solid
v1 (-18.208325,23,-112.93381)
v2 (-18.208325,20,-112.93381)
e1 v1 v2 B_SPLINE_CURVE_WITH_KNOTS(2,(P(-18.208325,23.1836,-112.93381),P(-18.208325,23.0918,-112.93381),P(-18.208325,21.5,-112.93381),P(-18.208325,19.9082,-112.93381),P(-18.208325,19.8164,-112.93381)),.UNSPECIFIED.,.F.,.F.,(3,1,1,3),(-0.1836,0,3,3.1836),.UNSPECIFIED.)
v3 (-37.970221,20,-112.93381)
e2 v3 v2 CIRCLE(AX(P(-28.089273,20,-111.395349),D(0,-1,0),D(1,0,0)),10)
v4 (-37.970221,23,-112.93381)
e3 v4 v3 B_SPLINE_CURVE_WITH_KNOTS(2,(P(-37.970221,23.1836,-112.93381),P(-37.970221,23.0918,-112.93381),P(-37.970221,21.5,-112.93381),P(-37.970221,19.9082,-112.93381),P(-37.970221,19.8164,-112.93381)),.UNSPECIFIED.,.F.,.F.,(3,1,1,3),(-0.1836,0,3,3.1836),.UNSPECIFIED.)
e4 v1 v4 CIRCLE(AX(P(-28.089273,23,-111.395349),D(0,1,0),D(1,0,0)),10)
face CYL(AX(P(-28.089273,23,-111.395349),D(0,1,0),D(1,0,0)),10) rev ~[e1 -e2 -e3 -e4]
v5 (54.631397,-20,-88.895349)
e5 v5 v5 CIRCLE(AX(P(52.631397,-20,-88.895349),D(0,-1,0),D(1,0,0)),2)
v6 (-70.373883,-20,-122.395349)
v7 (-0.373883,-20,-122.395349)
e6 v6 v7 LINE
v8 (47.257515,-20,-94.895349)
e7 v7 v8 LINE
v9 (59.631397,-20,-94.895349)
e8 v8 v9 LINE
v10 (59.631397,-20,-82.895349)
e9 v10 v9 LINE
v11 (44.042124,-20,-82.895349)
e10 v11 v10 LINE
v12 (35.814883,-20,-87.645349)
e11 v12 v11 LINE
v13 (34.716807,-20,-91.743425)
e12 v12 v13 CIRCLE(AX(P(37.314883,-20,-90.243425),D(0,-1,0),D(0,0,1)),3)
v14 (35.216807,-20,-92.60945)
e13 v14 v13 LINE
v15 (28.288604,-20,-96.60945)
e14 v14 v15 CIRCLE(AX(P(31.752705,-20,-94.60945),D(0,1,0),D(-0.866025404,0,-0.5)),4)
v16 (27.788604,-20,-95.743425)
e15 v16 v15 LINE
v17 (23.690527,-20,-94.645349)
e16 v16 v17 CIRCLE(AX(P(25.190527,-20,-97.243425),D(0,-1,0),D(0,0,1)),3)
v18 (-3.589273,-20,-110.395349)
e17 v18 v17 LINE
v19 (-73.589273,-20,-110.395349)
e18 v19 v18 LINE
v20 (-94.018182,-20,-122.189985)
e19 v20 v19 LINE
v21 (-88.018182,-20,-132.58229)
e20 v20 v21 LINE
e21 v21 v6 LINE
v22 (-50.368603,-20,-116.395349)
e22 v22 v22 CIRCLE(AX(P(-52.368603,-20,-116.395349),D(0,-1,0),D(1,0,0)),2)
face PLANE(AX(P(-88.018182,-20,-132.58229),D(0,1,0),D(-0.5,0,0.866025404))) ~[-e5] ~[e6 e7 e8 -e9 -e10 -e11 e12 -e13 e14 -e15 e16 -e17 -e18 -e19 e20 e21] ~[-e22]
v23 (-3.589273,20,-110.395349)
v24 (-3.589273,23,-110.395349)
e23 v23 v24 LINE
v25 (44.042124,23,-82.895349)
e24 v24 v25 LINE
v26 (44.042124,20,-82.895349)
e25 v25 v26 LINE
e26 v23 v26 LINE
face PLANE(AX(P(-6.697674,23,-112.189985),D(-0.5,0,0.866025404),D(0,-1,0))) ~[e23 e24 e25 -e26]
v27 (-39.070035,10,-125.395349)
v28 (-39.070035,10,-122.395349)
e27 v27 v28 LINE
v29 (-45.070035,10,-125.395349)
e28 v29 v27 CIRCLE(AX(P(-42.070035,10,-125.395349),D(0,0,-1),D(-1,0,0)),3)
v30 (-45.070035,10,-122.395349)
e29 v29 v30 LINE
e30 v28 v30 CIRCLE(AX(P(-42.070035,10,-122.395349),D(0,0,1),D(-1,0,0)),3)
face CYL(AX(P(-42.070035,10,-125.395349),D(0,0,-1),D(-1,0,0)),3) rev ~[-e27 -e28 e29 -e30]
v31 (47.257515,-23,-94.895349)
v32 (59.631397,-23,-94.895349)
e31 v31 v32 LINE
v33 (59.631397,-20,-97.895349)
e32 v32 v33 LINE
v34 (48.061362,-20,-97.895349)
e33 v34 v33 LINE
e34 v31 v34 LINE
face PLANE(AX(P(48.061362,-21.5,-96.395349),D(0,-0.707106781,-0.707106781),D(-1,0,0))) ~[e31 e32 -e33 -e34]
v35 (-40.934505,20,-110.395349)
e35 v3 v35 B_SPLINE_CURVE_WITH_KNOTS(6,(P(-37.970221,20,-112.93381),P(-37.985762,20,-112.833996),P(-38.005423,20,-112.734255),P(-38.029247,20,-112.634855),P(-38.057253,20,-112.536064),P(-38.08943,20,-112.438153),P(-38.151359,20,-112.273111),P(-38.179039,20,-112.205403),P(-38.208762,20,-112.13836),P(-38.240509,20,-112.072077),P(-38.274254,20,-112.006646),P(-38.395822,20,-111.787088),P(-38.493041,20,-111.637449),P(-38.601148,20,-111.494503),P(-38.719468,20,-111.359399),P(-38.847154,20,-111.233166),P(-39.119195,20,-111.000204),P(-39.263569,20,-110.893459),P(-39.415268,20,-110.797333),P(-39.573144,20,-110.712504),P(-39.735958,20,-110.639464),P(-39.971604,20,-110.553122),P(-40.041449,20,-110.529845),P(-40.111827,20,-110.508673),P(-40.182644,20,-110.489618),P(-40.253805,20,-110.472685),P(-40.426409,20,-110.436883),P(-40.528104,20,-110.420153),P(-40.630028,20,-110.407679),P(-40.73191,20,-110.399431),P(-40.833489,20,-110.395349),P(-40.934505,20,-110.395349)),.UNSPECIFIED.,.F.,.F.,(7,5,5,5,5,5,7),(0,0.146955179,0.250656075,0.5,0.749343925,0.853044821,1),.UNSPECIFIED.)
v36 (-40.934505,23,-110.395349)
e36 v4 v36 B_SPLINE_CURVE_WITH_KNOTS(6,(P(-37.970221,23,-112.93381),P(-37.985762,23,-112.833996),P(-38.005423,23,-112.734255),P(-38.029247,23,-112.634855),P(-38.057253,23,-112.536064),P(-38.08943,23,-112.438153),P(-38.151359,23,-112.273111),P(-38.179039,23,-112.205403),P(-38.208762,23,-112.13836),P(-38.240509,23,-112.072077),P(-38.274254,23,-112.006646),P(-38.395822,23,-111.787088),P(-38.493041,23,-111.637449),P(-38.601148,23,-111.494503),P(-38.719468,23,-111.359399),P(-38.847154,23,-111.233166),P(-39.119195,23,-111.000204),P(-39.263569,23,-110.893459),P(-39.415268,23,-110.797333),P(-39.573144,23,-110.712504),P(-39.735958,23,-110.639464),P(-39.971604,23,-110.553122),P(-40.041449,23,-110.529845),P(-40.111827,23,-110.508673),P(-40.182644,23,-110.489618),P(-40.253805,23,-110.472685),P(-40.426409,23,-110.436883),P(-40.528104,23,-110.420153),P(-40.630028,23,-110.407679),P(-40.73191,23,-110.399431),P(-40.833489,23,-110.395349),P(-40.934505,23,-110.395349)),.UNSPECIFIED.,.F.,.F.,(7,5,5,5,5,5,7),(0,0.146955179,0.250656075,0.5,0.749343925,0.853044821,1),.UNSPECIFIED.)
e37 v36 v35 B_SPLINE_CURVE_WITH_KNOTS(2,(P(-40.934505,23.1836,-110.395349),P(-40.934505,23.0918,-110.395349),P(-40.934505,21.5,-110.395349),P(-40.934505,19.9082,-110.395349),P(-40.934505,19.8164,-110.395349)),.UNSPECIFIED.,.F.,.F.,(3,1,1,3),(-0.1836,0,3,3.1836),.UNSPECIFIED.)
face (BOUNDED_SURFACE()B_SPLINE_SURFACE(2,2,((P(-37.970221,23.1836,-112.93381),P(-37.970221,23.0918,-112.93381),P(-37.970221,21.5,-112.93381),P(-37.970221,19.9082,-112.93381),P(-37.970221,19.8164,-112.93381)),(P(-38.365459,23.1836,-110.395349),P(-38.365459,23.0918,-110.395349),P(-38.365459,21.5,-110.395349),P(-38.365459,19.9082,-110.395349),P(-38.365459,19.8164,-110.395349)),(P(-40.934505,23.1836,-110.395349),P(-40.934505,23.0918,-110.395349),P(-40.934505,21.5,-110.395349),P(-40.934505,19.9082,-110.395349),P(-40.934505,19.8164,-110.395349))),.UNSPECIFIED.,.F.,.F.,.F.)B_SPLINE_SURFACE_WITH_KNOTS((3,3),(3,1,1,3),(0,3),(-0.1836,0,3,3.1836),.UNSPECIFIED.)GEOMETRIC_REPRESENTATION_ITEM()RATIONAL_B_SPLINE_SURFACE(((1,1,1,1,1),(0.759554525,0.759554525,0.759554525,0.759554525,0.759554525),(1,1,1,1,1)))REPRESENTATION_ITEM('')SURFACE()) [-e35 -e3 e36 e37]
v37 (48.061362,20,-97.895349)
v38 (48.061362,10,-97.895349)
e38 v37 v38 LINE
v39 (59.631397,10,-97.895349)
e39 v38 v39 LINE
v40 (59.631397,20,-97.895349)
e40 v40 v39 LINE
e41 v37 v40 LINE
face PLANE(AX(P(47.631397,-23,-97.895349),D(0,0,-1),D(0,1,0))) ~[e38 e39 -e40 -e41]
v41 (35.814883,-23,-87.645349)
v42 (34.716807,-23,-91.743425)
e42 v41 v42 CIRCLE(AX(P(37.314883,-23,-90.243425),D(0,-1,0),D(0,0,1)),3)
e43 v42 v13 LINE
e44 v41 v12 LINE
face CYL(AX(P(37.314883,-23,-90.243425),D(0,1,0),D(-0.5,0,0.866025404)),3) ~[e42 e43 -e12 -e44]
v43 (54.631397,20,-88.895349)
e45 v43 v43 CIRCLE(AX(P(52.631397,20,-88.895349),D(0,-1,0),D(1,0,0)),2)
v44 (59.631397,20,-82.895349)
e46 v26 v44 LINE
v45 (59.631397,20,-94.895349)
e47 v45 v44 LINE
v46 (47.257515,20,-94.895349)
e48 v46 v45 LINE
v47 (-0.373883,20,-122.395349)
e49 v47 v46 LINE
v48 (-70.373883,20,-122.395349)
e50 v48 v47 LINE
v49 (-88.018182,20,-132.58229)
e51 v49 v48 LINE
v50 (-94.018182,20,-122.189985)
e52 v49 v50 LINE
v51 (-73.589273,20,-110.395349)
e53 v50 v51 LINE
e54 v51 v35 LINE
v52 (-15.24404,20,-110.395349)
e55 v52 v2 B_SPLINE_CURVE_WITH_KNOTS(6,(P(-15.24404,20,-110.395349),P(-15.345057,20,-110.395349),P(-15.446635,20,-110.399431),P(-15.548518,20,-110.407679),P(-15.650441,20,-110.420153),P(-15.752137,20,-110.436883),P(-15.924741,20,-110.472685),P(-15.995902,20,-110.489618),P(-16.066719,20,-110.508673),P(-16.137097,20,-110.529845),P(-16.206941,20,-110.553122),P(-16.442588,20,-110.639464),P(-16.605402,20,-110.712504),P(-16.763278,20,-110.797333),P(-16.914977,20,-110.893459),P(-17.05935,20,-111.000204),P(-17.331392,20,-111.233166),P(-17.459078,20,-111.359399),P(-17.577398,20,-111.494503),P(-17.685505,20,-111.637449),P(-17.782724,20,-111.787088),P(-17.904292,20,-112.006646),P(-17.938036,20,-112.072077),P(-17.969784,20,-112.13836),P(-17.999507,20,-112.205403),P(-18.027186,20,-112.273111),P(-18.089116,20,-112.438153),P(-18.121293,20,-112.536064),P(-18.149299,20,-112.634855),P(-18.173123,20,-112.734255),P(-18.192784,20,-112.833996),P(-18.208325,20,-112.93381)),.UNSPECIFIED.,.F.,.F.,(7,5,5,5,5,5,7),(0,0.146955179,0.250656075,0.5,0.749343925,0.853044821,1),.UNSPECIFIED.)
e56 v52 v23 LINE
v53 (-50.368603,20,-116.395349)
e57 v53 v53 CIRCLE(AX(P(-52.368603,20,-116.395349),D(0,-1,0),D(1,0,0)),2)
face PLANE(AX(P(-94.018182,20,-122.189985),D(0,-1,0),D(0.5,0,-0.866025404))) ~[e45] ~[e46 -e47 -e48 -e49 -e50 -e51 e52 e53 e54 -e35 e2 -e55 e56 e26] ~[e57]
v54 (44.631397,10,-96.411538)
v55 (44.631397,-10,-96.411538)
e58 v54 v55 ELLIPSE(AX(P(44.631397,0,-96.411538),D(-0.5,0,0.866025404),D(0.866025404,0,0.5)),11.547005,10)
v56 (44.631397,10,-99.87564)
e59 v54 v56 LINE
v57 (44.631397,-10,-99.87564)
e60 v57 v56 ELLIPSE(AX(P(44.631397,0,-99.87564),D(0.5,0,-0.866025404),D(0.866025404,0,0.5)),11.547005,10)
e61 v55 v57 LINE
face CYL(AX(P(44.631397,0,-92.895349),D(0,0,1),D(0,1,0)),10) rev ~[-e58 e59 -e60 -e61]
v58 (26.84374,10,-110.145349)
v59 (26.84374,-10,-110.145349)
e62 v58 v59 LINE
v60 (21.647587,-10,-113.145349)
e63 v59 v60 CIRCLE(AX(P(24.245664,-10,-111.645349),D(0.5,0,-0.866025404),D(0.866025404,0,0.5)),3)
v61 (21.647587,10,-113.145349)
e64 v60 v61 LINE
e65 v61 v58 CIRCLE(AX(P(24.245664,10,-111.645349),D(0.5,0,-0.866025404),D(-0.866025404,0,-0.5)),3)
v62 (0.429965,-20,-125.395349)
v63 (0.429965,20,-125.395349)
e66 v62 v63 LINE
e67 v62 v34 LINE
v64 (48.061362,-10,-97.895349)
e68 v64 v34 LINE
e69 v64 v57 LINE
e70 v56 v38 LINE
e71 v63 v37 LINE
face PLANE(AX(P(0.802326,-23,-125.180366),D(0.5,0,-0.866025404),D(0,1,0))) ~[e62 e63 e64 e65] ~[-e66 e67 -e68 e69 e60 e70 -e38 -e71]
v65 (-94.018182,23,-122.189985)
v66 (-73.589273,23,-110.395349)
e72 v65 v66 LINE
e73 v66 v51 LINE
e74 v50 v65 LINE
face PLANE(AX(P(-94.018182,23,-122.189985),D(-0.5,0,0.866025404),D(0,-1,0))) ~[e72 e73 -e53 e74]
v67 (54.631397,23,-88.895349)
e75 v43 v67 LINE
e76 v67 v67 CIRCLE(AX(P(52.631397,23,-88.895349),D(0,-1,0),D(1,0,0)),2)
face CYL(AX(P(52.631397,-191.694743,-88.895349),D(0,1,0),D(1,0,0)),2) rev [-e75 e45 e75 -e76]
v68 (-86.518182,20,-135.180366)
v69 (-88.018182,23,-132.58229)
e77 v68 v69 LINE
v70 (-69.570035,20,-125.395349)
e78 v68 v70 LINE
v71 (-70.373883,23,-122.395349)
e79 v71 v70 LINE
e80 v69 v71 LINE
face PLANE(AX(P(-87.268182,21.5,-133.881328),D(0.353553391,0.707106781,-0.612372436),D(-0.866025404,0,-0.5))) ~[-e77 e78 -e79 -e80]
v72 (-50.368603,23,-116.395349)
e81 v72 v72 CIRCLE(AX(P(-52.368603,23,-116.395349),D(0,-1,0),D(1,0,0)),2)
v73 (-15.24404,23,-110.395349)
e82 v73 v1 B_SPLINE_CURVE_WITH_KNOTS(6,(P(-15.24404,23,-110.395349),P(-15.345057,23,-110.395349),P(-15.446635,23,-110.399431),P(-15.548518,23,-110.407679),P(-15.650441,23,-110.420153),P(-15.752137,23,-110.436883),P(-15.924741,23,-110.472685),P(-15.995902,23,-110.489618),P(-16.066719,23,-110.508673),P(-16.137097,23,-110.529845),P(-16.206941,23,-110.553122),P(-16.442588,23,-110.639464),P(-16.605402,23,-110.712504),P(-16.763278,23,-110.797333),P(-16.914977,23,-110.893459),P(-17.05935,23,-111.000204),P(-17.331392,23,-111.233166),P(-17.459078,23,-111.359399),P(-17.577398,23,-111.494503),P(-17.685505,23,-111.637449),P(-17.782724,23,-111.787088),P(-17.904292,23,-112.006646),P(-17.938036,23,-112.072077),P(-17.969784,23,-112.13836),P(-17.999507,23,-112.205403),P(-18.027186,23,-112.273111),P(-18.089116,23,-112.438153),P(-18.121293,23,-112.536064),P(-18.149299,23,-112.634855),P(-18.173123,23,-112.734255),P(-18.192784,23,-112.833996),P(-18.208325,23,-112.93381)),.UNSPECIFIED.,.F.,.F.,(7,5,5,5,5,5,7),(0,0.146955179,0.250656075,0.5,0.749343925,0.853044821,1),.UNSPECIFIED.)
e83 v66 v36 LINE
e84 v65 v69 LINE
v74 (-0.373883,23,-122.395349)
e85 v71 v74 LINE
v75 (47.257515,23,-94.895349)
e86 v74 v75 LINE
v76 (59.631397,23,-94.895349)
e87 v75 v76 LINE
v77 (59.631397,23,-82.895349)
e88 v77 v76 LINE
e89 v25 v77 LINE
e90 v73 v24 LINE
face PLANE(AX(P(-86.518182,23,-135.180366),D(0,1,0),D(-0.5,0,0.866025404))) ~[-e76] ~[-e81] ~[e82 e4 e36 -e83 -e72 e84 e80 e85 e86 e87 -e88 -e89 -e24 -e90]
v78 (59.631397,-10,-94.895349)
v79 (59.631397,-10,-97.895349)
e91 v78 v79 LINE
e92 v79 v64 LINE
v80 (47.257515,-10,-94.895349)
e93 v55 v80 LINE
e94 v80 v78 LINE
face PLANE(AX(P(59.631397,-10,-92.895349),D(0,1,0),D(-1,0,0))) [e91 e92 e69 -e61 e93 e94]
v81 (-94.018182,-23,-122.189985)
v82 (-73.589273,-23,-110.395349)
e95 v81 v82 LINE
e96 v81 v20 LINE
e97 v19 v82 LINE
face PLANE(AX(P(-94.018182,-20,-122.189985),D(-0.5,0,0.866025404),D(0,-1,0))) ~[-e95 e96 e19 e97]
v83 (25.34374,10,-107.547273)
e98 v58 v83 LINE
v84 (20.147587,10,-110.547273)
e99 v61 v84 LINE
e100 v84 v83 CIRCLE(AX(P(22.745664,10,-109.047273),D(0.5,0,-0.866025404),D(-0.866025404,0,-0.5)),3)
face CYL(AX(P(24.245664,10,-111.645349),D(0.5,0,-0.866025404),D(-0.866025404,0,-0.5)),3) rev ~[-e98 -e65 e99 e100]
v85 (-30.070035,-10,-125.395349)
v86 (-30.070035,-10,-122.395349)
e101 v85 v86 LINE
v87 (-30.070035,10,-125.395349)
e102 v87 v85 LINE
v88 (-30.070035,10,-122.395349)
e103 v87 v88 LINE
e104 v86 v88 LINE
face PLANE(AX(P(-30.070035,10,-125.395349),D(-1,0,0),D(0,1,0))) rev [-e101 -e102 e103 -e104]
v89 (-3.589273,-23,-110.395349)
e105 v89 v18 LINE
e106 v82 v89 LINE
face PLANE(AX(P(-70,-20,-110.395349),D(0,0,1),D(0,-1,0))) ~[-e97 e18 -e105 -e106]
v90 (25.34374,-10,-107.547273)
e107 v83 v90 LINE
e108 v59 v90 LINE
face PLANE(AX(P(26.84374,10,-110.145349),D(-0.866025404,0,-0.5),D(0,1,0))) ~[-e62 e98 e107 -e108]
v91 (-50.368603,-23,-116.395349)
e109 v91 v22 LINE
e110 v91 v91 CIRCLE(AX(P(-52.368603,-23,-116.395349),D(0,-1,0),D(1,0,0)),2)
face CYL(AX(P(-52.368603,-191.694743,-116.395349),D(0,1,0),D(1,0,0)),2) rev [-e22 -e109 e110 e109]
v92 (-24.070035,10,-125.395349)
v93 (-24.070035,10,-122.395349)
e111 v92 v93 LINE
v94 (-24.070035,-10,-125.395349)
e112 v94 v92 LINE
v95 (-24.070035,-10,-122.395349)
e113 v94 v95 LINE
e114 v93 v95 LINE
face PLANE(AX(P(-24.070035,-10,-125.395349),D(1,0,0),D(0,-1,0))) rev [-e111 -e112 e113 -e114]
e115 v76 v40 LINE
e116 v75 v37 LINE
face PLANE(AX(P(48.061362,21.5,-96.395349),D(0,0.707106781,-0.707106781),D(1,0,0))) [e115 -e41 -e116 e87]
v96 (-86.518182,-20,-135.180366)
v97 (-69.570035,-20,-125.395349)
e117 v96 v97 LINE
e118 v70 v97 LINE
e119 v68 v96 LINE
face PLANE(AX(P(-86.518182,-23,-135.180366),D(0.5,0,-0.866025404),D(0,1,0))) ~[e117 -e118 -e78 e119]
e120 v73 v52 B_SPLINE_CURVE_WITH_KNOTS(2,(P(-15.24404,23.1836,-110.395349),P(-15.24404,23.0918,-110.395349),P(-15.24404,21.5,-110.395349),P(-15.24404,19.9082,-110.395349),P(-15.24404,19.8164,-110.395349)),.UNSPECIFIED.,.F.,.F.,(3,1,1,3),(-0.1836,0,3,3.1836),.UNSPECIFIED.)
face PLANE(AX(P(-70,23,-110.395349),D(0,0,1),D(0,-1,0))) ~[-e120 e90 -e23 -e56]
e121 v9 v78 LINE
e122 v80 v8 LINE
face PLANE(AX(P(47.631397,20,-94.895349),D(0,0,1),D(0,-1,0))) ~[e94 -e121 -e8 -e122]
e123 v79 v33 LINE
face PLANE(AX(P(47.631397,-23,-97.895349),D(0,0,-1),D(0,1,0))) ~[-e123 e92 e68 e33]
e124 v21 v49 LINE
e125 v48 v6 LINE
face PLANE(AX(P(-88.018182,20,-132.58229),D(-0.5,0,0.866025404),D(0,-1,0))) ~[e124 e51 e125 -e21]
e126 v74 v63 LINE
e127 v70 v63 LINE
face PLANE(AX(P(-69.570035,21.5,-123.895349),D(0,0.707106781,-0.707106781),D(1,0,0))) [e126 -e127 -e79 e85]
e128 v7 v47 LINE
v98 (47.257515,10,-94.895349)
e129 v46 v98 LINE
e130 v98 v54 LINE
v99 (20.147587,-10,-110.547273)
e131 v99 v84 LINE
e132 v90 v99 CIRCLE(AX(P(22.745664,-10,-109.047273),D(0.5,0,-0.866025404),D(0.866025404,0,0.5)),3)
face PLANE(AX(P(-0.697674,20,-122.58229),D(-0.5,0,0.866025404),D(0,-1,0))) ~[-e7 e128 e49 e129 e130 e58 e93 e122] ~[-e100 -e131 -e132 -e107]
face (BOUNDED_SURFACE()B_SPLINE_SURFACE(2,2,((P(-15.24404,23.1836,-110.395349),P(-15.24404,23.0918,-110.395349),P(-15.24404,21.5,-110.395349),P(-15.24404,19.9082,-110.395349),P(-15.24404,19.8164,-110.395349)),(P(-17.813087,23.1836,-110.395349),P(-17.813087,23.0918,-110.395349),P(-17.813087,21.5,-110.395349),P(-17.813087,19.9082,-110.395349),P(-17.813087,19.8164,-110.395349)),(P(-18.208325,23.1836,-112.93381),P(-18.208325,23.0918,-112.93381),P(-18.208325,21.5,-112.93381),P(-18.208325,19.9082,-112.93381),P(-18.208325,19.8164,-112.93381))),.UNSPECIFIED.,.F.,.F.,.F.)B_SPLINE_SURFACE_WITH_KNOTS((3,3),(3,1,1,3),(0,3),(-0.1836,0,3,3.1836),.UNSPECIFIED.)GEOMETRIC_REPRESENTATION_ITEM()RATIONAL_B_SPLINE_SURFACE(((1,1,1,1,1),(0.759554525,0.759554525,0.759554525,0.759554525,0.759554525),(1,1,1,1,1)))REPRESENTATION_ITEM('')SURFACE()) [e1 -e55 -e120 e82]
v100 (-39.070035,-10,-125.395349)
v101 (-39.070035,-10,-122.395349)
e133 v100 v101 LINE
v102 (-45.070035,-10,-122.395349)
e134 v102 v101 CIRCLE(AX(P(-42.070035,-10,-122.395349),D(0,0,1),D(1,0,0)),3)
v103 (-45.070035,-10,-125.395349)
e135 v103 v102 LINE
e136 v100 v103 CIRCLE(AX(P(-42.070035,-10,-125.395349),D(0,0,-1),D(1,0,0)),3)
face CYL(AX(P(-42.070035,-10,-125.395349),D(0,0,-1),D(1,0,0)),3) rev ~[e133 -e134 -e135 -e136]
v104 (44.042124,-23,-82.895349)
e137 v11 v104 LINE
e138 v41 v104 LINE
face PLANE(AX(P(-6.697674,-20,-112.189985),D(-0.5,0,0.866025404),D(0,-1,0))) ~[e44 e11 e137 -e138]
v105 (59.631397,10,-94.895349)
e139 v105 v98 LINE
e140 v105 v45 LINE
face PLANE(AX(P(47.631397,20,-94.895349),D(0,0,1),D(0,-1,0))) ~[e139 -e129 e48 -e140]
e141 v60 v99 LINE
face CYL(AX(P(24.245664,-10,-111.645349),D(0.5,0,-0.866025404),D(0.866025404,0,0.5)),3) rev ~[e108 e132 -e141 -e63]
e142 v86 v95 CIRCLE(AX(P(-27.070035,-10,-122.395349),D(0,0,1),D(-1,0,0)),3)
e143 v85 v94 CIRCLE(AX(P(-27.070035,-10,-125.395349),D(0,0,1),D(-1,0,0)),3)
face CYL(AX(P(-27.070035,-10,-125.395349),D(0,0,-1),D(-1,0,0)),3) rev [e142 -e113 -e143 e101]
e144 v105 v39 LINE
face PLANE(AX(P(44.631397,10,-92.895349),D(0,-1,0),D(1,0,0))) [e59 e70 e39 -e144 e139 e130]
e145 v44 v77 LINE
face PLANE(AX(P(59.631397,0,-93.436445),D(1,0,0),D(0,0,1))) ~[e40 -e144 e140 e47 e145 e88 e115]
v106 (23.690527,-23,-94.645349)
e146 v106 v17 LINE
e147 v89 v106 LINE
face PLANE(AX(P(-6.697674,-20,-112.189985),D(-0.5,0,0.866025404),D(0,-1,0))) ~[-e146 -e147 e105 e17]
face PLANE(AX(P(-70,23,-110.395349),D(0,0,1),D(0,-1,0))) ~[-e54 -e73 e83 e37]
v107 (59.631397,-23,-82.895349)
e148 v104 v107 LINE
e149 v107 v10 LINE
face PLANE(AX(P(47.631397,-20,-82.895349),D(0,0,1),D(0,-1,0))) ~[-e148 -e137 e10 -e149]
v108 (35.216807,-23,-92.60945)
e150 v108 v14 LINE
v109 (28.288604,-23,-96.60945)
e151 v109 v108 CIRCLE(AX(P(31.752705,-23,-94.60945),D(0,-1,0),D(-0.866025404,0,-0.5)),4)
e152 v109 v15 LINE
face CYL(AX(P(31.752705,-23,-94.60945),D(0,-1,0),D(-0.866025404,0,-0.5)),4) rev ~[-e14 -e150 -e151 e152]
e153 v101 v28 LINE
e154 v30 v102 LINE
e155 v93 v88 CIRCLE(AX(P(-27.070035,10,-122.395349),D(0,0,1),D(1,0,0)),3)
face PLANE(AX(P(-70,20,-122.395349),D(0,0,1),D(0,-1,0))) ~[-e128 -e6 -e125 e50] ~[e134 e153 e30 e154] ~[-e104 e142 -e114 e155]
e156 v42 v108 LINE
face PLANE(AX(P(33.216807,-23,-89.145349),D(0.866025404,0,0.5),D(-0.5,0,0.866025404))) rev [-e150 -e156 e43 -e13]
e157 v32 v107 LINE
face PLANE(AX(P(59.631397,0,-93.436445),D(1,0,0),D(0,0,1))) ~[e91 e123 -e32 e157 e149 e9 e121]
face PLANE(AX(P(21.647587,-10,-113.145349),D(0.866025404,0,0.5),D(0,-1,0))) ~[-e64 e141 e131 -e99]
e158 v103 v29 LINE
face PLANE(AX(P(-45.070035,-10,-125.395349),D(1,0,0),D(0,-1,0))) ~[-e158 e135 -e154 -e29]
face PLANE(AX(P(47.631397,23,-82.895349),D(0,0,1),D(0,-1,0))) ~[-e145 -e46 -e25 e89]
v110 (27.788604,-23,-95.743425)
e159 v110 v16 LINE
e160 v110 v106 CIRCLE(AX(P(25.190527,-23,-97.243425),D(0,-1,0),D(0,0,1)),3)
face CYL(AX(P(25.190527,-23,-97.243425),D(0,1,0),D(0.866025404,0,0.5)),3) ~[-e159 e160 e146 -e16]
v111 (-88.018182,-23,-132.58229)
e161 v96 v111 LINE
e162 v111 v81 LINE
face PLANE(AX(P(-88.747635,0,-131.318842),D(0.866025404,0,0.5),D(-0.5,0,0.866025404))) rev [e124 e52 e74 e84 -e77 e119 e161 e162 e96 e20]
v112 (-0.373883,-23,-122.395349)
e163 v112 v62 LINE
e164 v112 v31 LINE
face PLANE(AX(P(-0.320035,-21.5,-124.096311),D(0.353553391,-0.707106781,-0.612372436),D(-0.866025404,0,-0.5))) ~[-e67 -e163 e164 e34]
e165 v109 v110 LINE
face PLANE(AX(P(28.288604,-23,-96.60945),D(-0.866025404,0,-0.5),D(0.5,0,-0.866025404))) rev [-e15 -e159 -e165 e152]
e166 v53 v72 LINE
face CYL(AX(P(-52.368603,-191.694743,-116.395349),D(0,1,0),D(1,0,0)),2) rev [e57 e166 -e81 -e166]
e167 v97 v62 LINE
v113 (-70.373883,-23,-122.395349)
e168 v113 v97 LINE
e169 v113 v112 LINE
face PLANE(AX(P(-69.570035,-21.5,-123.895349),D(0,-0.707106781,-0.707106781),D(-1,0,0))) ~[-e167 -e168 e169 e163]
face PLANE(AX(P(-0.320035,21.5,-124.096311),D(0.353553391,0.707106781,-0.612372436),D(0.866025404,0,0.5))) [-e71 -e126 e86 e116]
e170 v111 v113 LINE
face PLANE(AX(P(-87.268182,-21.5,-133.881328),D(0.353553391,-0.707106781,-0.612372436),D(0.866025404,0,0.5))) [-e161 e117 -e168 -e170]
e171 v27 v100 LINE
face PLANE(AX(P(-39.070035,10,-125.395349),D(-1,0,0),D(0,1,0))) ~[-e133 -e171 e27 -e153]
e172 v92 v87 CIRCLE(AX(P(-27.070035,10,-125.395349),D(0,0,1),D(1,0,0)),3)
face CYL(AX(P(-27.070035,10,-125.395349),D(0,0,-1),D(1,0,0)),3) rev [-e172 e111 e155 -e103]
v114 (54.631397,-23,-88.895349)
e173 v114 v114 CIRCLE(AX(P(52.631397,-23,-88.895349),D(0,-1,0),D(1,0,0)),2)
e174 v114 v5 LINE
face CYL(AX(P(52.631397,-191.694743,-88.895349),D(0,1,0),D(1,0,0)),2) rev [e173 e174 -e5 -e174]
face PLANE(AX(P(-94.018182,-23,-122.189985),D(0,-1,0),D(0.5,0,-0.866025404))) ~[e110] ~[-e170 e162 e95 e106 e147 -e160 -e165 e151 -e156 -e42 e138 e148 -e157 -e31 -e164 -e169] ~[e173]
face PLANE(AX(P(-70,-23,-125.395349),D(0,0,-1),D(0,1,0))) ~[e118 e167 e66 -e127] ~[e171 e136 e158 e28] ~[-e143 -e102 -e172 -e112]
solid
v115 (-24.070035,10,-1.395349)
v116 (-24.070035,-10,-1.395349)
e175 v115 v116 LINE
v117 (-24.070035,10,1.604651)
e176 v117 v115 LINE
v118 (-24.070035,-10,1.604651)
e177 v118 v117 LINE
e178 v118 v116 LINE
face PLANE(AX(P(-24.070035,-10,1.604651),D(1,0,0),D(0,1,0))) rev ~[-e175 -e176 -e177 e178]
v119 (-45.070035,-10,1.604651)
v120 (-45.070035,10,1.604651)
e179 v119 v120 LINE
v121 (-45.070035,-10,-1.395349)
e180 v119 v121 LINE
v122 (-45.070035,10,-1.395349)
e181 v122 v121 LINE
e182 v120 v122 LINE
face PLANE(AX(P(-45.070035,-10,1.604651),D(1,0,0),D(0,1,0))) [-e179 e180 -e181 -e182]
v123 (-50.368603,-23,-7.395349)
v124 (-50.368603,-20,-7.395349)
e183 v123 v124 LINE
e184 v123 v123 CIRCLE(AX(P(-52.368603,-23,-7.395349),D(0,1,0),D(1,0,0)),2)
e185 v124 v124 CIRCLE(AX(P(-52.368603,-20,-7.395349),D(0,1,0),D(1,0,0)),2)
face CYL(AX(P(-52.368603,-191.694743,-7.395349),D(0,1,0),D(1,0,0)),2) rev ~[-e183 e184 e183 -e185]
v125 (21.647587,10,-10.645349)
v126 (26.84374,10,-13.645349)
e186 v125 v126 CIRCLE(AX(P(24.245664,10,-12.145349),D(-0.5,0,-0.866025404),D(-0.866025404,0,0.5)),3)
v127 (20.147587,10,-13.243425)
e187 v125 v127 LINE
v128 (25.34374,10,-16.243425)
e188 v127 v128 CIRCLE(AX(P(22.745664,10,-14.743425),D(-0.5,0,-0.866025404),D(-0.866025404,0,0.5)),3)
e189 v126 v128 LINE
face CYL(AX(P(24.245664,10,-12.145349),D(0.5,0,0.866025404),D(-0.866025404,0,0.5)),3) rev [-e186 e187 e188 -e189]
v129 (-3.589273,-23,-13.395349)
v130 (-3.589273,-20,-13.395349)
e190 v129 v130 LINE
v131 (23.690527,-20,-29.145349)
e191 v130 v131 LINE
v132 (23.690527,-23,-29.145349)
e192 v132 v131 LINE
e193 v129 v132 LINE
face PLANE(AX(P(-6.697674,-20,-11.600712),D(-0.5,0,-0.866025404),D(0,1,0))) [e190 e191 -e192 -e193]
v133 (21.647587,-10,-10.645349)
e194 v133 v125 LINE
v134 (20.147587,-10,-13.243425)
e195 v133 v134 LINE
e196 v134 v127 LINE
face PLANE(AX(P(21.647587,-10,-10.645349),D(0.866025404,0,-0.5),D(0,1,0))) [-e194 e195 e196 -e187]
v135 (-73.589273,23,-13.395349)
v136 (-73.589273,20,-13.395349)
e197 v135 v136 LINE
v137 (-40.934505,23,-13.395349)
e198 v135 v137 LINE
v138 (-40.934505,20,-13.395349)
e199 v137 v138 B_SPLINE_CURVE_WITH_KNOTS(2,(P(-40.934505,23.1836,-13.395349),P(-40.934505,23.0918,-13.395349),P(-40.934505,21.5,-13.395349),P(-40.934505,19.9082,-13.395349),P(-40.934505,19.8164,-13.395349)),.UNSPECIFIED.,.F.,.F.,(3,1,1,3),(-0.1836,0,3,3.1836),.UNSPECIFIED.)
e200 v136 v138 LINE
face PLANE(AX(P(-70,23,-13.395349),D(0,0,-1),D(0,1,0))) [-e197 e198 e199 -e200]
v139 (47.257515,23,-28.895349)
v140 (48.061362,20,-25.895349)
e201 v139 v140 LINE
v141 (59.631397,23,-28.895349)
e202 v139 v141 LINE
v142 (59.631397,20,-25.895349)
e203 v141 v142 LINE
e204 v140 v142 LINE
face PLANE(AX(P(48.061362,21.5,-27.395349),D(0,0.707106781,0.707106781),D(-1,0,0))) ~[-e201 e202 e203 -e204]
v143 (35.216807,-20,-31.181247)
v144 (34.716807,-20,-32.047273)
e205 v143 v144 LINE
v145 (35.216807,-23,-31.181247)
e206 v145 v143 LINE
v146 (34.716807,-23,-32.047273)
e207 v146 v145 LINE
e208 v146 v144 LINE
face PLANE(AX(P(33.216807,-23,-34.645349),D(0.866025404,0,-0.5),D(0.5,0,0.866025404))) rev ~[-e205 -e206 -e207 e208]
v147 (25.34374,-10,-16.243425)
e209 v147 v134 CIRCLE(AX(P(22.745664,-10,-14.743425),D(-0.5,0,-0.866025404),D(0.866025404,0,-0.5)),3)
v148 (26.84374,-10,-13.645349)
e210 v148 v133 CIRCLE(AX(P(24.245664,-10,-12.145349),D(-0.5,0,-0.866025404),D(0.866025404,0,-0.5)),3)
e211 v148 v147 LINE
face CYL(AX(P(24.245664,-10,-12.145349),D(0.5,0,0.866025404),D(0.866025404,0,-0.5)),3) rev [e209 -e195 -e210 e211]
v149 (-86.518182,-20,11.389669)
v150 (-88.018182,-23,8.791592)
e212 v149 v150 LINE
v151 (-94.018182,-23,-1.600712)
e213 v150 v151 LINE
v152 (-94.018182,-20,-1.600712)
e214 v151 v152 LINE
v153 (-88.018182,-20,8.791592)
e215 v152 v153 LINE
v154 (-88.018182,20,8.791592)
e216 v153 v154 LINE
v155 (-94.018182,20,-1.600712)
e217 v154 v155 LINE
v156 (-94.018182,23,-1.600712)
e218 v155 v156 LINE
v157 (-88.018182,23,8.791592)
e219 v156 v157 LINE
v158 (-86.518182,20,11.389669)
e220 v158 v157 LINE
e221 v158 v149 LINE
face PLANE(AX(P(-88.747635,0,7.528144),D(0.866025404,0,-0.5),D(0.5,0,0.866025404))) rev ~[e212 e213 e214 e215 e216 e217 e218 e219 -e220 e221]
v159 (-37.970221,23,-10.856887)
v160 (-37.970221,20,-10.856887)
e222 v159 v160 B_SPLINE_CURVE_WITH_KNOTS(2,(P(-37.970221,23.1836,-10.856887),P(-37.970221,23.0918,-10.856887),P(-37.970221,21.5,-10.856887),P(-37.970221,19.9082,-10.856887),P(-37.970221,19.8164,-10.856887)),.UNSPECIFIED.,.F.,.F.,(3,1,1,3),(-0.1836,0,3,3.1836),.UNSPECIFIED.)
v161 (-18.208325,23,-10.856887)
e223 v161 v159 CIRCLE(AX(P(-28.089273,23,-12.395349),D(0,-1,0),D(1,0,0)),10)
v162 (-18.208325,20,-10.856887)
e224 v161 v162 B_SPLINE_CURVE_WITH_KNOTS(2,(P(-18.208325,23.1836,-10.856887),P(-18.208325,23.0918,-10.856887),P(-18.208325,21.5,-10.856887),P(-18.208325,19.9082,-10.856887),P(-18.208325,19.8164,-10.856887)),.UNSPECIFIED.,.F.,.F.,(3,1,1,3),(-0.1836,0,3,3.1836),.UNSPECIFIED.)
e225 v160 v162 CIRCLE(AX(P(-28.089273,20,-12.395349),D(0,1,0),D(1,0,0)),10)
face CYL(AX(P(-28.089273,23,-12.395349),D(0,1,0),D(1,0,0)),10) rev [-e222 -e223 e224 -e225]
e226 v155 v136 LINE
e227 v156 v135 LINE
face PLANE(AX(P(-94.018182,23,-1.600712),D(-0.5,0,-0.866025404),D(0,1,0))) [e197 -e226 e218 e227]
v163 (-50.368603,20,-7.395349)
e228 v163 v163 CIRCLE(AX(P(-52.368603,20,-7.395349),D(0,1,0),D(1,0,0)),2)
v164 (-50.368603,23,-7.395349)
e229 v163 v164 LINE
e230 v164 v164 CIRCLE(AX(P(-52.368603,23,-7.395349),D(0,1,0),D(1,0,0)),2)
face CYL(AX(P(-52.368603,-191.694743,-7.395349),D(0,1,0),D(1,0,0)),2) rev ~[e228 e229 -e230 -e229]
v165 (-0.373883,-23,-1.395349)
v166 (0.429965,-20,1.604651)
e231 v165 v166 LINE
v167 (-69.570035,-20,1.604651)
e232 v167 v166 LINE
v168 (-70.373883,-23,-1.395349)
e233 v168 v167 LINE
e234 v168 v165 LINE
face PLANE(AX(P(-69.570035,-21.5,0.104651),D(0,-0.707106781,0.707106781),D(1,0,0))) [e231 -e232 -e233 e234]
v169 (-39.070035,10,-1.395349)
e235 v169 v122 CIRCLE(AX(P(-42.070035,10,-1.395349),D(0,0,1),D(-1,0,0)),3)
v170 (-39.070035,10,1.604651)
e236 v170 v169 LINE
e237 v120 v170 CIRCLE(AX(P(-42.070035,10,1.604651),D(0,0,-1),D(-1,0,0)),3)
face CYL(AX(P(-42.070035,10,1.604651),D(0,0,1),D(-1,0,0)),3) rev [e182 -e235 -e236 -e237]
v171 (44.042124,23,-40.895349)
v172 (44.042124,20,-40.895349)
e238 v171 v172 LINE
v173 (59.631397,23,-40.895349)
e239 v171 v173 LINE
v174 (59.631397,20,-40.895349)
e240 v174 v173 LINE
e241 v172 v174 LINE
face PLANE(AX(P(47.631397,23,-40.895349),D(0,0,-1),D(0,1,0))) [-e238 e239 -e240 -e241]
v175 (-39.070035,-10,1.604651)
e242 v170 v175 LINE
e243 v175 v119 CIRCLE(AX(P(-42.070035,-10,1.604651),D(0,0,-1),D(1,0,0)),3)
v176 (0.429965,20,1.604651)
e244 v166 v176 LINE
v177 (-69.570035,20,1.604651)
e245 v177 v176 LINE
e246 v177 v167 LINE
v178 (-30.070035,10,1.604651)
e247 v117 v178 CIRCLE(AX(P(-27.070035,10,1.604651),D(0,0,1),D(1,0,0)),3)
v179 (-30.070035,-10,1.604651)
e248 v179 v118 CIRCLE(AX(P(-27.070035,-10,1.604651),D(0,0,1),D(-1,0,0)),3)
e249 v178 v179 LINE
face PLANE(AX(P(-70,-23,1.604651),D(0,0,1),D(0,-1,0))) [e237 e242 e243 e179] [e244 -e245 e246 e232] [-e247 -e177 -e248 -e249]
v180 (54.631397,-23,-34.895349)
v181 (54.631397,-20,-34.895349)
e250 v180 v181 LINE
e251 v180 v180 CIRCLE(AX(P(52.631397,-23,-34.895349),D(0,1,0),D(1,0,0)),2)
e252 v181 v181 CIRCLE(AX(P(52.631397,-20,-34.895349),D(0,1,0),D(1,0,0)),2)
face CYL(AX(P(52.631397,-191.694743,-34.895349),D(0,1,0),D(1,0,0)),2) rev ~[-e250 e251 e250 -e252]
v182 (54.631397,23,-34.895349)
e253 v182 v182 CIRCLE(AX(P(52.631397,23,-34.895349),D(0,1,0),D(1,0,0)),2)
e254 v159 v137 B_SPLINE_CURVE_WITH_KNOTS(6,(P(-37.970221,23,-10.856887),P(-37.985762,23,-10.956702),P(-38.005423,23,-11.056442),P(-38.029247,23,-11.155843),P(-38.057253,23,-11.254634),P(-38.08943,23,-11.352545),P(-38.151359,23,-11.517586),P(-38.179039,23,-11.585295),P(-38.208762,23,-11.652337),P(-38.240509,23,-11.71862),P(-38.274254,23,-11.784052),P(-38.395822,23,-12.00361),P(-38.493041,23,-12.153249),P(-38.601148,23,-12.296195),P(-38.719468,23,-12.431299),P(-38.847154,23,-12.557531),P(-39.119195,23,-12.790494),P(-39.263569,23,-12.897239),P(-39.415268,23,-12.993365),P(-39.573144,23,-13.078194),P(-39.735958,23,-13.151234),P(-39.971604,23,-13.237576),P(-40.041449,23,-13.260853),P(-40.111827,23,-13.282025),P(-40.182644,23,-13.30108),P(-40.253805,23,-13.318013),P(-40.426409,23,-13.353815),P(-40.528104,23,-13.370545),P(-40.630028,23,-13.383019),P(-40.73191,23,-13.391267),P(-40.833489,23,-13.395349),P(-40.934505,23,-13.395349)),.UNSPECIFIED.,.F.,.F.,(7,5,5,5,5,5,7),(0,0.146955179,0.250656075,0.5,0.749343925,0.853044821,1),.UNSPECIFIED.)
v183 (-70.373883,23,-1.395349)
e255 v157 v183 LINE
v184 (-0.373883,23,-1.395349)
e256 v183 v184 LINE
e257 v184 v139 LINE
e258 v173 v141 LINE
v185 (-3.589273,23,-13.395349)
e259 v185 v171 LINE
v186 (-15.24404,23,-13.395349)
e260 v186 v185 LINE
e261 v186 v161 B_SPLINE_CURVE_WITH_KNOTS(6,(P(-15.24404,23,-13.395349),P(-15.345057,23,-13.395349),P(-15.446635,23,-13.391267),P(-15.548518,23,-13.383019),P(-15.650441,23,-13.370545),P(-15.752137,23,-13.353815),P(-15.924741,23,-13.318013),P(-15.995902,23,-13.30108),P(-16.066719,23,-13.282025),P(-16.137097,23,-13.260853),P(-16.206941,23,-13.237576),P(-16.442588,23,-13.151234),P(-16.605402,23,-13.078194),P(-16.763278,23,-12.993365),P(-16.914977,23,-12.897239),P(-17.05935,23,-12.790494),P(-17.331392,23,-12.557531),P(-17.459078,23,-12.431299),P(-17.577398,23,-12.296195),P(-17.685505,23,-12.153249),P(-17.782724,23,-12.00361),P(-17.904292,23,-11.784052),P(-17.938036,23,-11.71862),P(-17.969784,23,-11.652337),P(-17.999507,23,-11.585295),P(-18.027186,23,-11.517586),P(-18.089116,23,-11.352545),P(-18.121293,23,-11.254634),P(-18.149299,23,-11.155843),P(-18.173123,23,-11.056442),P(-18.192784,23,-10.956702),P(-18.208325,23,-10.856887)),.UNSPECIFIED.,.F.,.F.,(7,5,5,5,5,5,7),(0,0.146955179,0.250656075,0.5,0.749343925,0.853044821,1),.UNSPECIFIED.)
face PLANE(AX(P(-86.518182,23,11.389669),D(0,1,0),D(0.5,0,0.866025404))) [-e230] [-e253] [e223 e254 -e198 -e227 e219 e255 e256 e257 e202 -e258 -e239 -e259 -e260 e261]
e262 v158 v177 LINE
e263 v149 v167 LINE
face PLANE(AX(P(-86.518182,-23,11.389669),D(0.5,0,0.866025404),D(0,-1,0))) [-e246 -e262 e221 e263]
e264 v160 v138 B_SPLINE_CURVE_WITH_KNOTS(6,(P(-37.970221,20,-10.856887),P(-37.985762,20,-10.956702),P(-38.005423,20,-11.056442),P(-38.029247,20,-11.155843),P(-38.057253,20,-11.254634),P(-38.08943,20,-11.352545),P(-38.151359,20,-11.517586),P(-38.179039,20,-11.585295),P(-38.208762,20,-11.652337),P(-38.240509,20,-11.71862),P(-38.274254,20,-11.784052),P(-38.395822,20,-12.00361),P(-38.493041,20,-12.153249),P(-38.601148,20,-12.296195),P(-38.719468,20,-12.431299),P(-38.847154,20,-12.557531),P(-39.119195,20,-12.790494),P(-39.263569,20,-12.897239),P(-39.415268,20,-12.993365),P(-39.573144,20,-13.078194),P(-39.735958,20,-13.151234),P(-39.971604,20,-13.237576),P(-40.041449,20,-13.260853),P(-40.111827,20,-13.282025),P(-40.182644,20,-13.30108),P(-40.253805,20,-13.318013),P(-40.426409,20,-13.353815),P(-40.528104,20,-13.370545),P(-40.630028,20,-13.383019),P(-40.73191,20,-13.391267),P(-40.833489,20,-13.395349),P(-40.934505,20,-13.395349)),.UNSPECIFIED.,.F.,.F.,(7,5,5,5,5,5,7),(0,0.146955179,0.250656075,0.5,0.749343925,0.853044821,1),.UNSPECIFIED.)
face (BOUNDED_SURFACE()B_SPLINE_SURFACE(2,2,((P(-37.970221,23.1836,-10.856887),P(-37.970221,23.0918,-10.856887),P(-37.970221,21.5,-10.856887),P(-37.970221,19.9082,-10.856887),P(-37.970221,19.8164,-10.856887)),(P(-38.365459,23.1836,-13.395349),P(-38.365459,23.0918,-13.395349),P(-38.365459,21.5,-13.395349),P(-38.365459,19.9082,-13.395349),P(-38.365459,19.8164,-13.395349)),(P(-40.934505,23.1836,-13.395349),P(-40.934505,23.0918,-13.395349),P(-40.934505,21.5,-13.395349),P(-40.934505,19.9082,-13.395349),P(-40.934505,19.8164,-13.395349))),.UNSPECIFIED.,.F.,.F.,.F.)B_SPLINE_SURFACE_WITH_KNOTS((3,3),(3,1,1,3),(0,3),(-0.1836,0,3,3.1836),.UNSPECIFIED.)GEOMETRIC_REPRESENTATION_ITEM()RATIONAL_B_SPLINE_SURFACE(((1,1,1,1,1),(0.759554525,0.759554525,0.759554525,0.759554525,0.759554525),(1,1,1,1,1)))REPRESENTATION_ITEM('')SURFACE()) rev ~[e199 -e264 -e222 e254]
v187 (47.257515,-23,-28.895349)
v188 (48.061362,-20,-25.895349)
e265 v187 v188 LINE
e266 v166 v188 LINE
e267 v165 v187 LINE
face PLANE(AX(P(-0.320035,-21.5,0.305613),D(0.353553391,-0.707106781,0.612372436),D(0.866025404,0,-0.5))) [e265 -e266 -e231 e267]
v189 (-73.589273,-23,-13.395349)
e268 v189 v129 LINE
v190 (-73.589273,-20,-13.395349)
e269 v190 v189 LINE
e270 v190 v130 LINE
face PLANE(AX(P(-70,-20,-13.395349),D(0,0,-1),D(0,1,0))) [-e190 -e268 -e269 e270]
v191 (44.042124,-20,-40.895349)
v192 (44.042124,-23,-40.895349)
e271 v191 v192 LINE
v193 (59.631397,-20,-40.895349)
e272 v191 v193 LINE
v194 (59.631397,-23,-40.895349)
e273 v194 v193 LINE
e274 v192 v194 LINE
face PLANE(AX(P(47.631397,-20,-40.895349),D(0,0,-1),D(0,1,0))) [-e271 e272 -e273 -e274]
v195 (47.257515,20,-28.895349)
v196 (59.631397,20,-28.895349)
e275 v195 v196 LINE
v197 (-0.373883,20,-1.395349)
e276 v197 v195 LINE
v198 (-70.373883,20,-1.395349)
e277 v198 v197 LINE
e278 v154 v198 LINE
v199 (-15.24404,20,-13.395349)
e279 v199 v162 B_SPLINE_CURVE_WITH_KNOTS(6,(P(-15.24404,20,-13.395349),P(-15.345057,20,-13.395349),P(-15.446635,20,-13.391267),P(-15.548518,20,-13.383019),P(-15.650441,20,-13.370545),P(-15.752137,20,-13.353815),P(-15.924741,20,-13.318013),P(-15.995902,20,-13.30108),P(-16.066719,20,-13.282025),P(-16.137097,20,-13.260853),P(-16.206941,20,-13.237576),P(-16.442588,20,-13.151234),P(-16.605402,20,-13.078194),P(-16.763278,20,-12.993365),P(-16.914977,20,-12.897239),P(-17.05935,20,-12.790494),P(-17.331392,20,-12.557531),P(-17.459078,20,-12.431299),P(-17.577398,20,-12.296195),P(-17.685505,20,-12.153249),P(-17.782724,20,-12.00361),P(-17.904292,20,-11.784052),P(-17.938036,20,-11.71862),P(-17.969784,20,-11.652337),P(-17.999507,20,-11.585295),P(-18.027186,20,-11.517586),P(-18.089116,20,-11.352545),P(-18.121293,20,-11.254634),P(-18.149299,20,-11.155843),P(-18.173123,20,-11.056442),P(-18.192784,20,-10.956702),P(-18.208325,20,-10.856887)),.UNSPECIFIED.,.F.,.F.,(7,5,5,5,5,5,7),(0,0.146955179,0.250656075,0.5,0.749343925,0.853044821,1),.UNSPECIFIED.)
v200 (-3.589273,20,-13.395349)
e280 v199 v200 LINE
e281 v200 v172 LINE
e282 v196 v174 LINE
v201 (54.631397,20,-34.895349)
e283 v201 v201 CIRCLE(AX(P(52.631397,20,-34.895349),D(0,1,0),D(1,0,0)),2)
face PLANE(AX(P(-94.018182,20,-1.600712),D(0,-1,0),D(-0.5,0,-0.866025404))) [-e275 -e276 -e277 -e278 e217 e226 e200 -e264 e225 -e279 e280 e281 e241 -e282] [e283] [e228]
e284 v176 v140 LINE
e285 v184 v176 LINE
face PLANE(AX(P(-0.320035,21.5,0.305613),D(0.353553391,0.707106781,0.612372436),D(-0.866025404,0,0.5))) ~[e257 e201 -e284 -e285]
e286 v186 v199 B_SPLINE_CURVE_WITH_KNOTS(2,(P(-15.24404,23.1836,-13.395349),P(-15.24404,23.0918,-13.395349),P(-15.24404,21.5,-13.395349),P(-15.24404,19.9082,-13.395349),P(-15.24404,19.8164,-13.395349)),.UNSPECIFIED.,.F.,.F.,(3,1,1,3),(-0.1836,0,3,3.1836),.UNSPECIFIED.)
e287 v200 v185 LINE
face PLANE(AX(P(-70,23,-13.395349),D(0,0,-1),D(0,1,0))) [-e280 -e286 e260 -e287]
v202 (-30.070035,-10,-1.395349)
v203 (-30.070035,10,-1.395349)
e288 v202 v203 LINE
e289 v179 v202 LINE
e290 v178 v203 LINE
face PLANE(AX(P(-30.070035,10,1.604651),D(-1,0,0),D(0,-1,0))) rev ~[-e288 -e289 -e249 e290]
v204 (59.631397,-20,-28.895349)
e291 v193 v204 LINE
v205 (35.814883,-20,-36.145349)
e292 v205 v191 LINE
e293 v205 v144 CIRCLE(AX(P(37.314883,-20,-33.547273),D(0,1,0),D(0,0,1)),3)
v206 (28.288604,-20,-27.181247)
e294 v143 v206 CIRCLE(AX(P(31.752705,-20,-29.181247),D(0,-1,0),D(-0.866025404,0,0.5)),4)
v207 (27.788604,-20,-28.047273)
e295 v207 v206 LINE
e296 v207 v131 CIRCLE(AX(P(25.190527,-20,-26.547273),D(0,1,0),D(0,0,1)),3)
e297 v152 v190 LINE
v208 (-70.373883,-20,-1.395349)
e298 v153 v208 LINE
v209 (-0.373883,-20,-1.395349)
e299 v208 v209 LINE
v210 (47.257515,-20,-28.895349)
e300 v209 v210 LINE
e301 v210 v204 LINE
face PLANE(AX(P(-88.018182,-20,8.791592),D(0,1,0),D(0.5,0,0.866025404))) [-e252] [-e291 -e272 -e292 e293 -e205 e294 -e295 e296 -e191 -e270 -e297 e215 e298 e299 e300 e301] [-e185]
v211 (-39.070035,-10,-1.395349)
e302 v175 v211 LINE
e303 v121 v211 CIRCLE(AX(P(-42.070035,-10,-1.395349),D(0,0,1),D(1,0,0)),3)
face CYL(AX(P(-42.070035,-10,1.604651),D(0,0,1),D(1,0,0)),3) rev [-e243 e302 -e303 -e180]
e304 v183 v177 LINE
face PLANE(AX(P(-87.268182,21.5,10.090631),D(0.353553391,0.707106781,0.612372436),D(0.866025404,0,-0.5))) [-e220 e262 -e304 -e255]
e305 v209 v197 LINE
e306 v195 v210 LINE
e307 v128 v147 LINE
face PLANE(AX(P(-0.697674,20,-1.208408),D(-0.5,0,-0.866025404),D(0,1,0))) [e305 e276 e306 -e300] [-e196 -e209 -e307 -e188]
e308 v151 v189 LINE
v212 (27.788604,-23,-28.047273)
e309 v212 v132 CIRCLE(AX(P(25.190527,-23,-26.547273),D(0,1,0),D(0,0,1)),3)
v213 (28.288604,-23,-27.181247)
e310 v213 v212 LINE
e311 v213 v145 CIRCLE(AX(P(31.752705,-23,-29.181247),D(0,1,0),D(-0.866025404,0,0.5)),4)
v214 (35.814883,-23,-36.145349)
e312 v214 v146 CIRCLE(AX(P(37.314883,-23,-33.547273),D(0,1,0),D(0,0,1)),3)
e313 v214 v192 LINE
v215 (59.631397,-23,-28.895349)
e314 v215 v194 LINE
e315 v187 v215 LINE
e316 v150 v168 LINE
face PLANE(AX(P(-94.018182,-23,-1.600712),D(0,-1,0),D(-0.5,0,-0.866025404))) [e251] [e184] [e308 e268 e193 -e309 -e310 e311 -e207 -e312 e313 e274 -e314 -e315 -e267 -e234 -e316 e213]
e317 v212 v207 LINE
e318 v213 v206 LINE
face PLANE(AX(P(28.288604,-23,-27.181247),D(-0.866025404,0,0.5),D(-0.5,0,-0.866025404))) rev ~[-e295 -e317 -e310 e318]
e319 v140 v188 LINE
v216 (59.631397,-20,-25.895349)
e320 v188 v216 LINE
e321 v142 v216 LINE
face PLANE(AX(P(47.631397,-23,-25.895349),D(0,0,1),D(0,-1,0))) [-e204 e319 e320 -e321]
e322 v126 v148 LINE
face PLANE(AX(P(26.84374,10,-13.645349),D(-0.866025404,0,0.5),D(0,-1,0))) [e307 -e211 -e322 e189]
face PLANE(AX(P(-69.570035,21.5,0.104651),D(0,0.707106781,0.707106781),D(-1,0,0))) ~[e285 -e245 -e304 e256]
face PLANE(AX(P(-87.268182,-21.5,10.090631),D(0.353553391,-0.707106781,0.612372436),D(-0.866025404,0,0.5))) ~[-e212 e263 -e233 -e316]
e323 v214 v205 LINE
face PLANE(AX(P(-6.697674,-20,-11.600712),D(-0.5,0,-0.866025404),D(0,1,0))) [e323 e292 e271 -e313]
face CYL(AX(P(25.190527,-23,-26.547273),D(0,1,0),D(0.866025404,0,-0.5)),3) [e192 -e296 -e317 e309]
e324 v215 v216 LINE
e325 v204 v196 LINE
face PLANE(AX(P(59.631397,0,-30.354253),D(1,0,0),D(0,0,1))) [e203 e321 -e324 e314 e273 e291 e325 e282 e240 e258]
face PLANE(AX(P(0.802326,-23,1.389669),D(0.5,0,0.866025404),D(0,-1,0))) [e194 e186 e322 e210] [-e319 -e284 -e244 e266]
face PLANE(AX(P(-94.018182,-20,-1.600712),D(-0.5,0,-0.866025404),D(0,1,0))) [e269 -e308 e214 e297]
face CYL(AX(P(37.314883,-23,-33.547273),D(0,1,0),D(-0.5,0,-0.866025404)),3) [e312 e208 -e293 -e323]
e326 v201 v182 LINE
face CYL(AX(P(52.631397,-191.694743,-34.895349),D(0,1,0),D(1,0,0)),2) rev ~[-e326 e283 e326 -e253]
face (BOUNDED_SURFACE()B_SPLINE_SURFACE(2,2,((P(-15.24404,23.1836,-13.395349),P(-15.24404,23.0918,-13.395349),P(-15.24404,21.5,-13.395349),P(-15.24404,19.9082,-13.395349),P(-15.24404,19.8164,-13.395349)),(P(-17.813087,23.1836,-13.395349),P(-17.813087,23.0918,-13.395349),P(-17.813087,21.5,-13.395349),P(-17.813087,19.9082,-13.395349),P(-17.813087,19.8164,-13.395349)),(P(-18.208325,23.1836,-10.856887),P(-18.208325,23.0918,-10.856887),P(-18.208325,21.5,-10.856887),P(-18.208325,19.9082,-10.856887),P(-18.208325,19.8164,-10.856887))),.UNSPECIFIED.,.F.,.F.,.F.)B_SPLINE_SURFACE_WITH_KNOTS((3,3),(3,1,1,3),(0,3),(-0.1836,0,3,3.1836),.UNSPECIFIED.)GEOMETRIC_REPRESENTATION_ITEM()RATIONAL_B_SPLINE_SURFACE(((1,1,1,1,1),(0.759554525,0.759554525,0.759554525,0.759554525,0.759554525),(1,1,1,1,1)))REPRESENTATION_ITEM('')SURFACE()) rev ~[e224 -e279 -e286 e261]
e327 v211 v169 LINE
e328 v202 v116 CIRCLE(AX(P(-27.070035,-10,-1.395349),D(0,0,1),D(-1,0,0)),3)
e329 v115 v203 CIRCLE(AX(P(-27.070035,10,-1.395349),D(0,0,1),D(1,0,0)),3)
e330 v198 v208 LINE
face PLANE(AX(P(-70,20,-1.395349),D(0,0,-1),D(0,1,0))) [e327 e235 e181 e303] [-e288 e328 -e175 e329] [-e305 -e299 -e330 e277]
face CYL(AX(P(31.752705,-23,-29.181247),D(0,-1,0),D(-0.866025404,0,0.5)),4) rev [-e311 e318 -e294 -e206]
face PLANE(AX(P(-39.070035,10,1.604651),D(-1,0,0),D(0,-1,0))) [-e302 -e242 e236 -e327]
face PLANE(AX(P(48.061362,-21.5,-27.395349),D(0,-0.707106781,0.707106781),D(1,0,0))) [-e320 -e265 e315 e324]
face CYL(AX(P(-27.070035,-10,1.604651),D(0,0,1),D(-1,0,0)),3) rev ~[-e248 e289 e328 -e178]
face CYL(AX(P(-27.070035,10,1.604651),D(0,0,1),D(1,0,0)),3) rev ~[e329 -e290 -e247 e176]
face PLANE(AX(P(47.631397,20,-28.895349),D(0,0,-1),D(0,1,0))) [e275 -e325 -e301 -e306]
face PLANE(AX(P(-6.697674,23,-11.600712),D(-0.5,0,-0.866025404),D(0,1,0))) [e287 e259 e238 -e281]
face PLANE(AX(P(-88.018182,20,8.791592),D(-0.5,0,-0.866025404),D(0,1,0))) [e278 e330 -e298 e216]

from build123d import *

# Parameters (mm, degrees)
CUT_EXTRUDE3_DEPTH      = 5
CUT_EXTRUDE4_DEPTH      = 10
CHAMFER1_SIZE           = 3
CUT_EXTRUDE6_DEPTH      = 3
F_4_0MM_DOWEL_HOLE2_D   = 4
CUT_EXTRUDE9_DEPTH      = 10
CUT_EXTRUDE7_DEPTH      = 146.985046122
CUT_EXTRUDE7_DEPTH_BACK = 5
FILLET1_R               = 3
FILLET2_R               = 3


with BuildPart() as part:
    # Sweep8: sweep along a path in Sketch6
    with BuildLine(Plane(origin=(0, 0, 0), x_dir=(1, 0, 0), z_dir=(0, 1, 0))) as sweep8_path:
        Line((-87.320508076, -10), (-70, 0))
        Line((-70, 0), (0, 0))
        Line((0, 0), (47.631397208, 27.5))
        Line((47.631397208, 27.5), (59.631397208, 27.5))
    # Sketch7 → Sweep8 (sweep)
    with BuildSketch(Plane(origin=(0, 0, 0), x_dir=(0, 0, -1), z_dir=(1, 0, 0))):
        Polygon((-1.604651163, -23), (-1.604651163, 23), (13.395348837, 23), (13.395348837, 20), (1.395348837, 20), (1.395348837, -20), (13.395348837, -20), (13.395348837, -23), align=None)
    sweep(path=sweep8_path.line, transition=Transition.RIGHT)

    # Sketch10 → Cut-Extrude3 (cut)
    with BuildSketch(Plane(origin=(0, 23, 0), x_dir=(1, 0, 0), z_dir=(0, 1, 0))):
        with BuildLine():
            Line((-38.089272903, 13.395348837), (-18.089272903, 13.395348837))
            Line((-18.089272903, 13.395348837), (-18.089272903, 12.395348837))
            ThreePointArc((-18.089272903, 12.395348837), (-28.089272903, 2.395348837), (-38.089272903, 12.395348837))
            Line((-38.089272903, 12.395348837), (-38.089272903, 13.395348837))
        make_face()
    extrude(amount=-CUT_EXTRUDE3_DEPTH, mode=Mode.SUBTRACT)

    # Sketch11 → Cut-Extrude4 (cut)
    with BuildSketch(Plane.XY.offset(1.604651163)):
        with BuildLine():
            Line((-45.070035017, -10), (-45.070035017, 10))
            ThreePointArc((-45.070035017, 10), (-42.070035017, 13), (-39.070035017, 10))
            Line((-39.070035017, 10), (-39.070035017, -10))
            ThreePointArc((-39.070035017, -10), (-42.070035017, -13), (-45.070035017, -10))
        make_face()
        with BuildLine():
            Line((-24.070035017, -10), (-24.070035017, 10))
            ThreePointArc((-24.070035017, 10), (-27.070035017, 13), (-30.070035017, 10))
            Line((-30.070035017, 10), (-30.070035017, -10))
            ThreePointArc((-30.070035017, -10), (-27.070035017, -13), (-24.070035017, -10))
        make_face()
    extrude(amount=-CUT_EXTRUDE4_DEPTH, mode=Mode.SUBTRACT)

    # Chamfer1
    chamfer1_edges = [part.edges().sort_by_distance(p)[0] for p in [
        (-78.044108756, -23, 6.497159917),
        (-34.570035017, -23, 1.604651163),
        (24.245663587, -23, -12.145348837),
        (-78.044108756, 23, 6.497159917),
        (-34.570035017, 23, 1.604651163),
        (24.245663587, 23, -12.145348837),
        (53.8463797, -23, -25.895348837),
        (53.8463797, 23, -25.895348837),
    ]]
    chamfer(chamfer1_edges, length=CHAMFER1_SIZE)

    # Sketch14 → Cut-Extrude6 (cut)
    with BuildSketch(Plane(origin=(0.802325581, 0, 1.389668671), x_dir=(0.8660254037844379, 0, -0.5000000000000014), z_dir=(0.5000000000000014, 0, 0.8660254037844379))):
        with BuildLine():
            Line((24.070035017, -10), (24.070035017, 10))
            ThreePointArc((24.070035017, 10), (27.070035017, 13), (30.070035017, 10))
            Line((30.070035017, 10), (30.070035017, -10))
            ThreePointArc((30.070035017, -10), (27.070035017, -13), (24.070035017, -10))
        make_face()
    extrude(amount=-CUT_EXTRUDE6_DEPTH, mode=Mode.SUBTRACT)

    # Ø4.0mm Dowel Hole2 (through all)
    with Locations(Plane(origin=(0, -23, 0), x_dir=(-1, 0, 0), z_dir=(0, -1, 0))):
        with Locations((52.368602792, 7.395348837), (-52.631397208, 34.895348837)):
            Hole(F_4_0MM_DOWEL_HOLE2_D / 2)

    # Sketch22 → Cut-Extrude9 (cut)
    with BuildSketch(Plane.XZ.offset(23)):
        with BuildLine():
            Line((28.288603527, -27.181247222), (26.288603527, -30.645348837))
            Line((26.288603527, -30.645348837), (33.216806758, -34.645348837))
            Line((33.216806758, -34.645348837), (35.216806758, -31.181247222))
            ThreePointArc((35.216806758, -31.181247222), (33.752705142, -25.717145607), (28.288603527, -27.181247222))
        make_face()
    extrude(amount=-CUT_EXTRUDE9_DEPTH, mode=Mode.SUBTRACT)


with BuildPart() as body_2:
    # Mirror2: mirrored copy
    add(part.part.mirror(Plane(origin=(0, 0, -61.895348837), x_dir=(1, 0, 0), z_dir=(0, 0, -1))))

    # Sketch20 → Cut-Extrude7 (cut, two sides: drawn at the far end of the back side and taken through both)
    with BuildSketch(Plane(origin=(0, 0, -97.895348837), x_dir=(-1, 0, 0), z_dir=(0, 0, -1)).offset(-CUT_EXTRUDE7_DEPTH_BACK)):
        with BuildLine():
            ThreePointArc((-44.631397208, -10), (-34.631397208, 0), (-44.631397208, 10))
            Line((-44.631397208, 10), (-59.631397208, 10))
            Line((-59.631397208, 10), (-59.631397208, -10))
            Line((-59.631397208, -10), (-44.631397208, -10))
        make_face()
    extrude(amount=CUT_EXTRUDE7_DEPTH + CUT_EXTRUDE7_DEPTH_BACK, mode=Mode.SUBTRACT)

    # Fillet2
    fillet2_edges = [body_2.edges().sort_by_distance(p)[0] for p in [
        (-38.089272903, 21.5, -110.395348837),
        (-18.089272903, 21.5, -110.395348837),
        (26.288603527, -21.5, -93.145348837),
        (33.216806758, -21.5, -89.145348837),
    ]]
    fillet(fillet2_edges, radius=FILLET2_R)


with BuildPart() as part_1:
    add(part.part)

    # Fillet1
    fillet1_edges = [part_1.edges().sort_by_distance(p)[0] for p in [
        (26.288603527, -21.5, -30.645348837),
        (33.216806758, -21.5, -34.645348837),
        (-18.089272903, 21.5, -13.395348837),
        (-38.089272903, 21.5, -13.395348837),
    ]]
    fillet(fillet1_edges, radius=FILLET1_R)


solid = Compound([body_2.part, part_1.part])
